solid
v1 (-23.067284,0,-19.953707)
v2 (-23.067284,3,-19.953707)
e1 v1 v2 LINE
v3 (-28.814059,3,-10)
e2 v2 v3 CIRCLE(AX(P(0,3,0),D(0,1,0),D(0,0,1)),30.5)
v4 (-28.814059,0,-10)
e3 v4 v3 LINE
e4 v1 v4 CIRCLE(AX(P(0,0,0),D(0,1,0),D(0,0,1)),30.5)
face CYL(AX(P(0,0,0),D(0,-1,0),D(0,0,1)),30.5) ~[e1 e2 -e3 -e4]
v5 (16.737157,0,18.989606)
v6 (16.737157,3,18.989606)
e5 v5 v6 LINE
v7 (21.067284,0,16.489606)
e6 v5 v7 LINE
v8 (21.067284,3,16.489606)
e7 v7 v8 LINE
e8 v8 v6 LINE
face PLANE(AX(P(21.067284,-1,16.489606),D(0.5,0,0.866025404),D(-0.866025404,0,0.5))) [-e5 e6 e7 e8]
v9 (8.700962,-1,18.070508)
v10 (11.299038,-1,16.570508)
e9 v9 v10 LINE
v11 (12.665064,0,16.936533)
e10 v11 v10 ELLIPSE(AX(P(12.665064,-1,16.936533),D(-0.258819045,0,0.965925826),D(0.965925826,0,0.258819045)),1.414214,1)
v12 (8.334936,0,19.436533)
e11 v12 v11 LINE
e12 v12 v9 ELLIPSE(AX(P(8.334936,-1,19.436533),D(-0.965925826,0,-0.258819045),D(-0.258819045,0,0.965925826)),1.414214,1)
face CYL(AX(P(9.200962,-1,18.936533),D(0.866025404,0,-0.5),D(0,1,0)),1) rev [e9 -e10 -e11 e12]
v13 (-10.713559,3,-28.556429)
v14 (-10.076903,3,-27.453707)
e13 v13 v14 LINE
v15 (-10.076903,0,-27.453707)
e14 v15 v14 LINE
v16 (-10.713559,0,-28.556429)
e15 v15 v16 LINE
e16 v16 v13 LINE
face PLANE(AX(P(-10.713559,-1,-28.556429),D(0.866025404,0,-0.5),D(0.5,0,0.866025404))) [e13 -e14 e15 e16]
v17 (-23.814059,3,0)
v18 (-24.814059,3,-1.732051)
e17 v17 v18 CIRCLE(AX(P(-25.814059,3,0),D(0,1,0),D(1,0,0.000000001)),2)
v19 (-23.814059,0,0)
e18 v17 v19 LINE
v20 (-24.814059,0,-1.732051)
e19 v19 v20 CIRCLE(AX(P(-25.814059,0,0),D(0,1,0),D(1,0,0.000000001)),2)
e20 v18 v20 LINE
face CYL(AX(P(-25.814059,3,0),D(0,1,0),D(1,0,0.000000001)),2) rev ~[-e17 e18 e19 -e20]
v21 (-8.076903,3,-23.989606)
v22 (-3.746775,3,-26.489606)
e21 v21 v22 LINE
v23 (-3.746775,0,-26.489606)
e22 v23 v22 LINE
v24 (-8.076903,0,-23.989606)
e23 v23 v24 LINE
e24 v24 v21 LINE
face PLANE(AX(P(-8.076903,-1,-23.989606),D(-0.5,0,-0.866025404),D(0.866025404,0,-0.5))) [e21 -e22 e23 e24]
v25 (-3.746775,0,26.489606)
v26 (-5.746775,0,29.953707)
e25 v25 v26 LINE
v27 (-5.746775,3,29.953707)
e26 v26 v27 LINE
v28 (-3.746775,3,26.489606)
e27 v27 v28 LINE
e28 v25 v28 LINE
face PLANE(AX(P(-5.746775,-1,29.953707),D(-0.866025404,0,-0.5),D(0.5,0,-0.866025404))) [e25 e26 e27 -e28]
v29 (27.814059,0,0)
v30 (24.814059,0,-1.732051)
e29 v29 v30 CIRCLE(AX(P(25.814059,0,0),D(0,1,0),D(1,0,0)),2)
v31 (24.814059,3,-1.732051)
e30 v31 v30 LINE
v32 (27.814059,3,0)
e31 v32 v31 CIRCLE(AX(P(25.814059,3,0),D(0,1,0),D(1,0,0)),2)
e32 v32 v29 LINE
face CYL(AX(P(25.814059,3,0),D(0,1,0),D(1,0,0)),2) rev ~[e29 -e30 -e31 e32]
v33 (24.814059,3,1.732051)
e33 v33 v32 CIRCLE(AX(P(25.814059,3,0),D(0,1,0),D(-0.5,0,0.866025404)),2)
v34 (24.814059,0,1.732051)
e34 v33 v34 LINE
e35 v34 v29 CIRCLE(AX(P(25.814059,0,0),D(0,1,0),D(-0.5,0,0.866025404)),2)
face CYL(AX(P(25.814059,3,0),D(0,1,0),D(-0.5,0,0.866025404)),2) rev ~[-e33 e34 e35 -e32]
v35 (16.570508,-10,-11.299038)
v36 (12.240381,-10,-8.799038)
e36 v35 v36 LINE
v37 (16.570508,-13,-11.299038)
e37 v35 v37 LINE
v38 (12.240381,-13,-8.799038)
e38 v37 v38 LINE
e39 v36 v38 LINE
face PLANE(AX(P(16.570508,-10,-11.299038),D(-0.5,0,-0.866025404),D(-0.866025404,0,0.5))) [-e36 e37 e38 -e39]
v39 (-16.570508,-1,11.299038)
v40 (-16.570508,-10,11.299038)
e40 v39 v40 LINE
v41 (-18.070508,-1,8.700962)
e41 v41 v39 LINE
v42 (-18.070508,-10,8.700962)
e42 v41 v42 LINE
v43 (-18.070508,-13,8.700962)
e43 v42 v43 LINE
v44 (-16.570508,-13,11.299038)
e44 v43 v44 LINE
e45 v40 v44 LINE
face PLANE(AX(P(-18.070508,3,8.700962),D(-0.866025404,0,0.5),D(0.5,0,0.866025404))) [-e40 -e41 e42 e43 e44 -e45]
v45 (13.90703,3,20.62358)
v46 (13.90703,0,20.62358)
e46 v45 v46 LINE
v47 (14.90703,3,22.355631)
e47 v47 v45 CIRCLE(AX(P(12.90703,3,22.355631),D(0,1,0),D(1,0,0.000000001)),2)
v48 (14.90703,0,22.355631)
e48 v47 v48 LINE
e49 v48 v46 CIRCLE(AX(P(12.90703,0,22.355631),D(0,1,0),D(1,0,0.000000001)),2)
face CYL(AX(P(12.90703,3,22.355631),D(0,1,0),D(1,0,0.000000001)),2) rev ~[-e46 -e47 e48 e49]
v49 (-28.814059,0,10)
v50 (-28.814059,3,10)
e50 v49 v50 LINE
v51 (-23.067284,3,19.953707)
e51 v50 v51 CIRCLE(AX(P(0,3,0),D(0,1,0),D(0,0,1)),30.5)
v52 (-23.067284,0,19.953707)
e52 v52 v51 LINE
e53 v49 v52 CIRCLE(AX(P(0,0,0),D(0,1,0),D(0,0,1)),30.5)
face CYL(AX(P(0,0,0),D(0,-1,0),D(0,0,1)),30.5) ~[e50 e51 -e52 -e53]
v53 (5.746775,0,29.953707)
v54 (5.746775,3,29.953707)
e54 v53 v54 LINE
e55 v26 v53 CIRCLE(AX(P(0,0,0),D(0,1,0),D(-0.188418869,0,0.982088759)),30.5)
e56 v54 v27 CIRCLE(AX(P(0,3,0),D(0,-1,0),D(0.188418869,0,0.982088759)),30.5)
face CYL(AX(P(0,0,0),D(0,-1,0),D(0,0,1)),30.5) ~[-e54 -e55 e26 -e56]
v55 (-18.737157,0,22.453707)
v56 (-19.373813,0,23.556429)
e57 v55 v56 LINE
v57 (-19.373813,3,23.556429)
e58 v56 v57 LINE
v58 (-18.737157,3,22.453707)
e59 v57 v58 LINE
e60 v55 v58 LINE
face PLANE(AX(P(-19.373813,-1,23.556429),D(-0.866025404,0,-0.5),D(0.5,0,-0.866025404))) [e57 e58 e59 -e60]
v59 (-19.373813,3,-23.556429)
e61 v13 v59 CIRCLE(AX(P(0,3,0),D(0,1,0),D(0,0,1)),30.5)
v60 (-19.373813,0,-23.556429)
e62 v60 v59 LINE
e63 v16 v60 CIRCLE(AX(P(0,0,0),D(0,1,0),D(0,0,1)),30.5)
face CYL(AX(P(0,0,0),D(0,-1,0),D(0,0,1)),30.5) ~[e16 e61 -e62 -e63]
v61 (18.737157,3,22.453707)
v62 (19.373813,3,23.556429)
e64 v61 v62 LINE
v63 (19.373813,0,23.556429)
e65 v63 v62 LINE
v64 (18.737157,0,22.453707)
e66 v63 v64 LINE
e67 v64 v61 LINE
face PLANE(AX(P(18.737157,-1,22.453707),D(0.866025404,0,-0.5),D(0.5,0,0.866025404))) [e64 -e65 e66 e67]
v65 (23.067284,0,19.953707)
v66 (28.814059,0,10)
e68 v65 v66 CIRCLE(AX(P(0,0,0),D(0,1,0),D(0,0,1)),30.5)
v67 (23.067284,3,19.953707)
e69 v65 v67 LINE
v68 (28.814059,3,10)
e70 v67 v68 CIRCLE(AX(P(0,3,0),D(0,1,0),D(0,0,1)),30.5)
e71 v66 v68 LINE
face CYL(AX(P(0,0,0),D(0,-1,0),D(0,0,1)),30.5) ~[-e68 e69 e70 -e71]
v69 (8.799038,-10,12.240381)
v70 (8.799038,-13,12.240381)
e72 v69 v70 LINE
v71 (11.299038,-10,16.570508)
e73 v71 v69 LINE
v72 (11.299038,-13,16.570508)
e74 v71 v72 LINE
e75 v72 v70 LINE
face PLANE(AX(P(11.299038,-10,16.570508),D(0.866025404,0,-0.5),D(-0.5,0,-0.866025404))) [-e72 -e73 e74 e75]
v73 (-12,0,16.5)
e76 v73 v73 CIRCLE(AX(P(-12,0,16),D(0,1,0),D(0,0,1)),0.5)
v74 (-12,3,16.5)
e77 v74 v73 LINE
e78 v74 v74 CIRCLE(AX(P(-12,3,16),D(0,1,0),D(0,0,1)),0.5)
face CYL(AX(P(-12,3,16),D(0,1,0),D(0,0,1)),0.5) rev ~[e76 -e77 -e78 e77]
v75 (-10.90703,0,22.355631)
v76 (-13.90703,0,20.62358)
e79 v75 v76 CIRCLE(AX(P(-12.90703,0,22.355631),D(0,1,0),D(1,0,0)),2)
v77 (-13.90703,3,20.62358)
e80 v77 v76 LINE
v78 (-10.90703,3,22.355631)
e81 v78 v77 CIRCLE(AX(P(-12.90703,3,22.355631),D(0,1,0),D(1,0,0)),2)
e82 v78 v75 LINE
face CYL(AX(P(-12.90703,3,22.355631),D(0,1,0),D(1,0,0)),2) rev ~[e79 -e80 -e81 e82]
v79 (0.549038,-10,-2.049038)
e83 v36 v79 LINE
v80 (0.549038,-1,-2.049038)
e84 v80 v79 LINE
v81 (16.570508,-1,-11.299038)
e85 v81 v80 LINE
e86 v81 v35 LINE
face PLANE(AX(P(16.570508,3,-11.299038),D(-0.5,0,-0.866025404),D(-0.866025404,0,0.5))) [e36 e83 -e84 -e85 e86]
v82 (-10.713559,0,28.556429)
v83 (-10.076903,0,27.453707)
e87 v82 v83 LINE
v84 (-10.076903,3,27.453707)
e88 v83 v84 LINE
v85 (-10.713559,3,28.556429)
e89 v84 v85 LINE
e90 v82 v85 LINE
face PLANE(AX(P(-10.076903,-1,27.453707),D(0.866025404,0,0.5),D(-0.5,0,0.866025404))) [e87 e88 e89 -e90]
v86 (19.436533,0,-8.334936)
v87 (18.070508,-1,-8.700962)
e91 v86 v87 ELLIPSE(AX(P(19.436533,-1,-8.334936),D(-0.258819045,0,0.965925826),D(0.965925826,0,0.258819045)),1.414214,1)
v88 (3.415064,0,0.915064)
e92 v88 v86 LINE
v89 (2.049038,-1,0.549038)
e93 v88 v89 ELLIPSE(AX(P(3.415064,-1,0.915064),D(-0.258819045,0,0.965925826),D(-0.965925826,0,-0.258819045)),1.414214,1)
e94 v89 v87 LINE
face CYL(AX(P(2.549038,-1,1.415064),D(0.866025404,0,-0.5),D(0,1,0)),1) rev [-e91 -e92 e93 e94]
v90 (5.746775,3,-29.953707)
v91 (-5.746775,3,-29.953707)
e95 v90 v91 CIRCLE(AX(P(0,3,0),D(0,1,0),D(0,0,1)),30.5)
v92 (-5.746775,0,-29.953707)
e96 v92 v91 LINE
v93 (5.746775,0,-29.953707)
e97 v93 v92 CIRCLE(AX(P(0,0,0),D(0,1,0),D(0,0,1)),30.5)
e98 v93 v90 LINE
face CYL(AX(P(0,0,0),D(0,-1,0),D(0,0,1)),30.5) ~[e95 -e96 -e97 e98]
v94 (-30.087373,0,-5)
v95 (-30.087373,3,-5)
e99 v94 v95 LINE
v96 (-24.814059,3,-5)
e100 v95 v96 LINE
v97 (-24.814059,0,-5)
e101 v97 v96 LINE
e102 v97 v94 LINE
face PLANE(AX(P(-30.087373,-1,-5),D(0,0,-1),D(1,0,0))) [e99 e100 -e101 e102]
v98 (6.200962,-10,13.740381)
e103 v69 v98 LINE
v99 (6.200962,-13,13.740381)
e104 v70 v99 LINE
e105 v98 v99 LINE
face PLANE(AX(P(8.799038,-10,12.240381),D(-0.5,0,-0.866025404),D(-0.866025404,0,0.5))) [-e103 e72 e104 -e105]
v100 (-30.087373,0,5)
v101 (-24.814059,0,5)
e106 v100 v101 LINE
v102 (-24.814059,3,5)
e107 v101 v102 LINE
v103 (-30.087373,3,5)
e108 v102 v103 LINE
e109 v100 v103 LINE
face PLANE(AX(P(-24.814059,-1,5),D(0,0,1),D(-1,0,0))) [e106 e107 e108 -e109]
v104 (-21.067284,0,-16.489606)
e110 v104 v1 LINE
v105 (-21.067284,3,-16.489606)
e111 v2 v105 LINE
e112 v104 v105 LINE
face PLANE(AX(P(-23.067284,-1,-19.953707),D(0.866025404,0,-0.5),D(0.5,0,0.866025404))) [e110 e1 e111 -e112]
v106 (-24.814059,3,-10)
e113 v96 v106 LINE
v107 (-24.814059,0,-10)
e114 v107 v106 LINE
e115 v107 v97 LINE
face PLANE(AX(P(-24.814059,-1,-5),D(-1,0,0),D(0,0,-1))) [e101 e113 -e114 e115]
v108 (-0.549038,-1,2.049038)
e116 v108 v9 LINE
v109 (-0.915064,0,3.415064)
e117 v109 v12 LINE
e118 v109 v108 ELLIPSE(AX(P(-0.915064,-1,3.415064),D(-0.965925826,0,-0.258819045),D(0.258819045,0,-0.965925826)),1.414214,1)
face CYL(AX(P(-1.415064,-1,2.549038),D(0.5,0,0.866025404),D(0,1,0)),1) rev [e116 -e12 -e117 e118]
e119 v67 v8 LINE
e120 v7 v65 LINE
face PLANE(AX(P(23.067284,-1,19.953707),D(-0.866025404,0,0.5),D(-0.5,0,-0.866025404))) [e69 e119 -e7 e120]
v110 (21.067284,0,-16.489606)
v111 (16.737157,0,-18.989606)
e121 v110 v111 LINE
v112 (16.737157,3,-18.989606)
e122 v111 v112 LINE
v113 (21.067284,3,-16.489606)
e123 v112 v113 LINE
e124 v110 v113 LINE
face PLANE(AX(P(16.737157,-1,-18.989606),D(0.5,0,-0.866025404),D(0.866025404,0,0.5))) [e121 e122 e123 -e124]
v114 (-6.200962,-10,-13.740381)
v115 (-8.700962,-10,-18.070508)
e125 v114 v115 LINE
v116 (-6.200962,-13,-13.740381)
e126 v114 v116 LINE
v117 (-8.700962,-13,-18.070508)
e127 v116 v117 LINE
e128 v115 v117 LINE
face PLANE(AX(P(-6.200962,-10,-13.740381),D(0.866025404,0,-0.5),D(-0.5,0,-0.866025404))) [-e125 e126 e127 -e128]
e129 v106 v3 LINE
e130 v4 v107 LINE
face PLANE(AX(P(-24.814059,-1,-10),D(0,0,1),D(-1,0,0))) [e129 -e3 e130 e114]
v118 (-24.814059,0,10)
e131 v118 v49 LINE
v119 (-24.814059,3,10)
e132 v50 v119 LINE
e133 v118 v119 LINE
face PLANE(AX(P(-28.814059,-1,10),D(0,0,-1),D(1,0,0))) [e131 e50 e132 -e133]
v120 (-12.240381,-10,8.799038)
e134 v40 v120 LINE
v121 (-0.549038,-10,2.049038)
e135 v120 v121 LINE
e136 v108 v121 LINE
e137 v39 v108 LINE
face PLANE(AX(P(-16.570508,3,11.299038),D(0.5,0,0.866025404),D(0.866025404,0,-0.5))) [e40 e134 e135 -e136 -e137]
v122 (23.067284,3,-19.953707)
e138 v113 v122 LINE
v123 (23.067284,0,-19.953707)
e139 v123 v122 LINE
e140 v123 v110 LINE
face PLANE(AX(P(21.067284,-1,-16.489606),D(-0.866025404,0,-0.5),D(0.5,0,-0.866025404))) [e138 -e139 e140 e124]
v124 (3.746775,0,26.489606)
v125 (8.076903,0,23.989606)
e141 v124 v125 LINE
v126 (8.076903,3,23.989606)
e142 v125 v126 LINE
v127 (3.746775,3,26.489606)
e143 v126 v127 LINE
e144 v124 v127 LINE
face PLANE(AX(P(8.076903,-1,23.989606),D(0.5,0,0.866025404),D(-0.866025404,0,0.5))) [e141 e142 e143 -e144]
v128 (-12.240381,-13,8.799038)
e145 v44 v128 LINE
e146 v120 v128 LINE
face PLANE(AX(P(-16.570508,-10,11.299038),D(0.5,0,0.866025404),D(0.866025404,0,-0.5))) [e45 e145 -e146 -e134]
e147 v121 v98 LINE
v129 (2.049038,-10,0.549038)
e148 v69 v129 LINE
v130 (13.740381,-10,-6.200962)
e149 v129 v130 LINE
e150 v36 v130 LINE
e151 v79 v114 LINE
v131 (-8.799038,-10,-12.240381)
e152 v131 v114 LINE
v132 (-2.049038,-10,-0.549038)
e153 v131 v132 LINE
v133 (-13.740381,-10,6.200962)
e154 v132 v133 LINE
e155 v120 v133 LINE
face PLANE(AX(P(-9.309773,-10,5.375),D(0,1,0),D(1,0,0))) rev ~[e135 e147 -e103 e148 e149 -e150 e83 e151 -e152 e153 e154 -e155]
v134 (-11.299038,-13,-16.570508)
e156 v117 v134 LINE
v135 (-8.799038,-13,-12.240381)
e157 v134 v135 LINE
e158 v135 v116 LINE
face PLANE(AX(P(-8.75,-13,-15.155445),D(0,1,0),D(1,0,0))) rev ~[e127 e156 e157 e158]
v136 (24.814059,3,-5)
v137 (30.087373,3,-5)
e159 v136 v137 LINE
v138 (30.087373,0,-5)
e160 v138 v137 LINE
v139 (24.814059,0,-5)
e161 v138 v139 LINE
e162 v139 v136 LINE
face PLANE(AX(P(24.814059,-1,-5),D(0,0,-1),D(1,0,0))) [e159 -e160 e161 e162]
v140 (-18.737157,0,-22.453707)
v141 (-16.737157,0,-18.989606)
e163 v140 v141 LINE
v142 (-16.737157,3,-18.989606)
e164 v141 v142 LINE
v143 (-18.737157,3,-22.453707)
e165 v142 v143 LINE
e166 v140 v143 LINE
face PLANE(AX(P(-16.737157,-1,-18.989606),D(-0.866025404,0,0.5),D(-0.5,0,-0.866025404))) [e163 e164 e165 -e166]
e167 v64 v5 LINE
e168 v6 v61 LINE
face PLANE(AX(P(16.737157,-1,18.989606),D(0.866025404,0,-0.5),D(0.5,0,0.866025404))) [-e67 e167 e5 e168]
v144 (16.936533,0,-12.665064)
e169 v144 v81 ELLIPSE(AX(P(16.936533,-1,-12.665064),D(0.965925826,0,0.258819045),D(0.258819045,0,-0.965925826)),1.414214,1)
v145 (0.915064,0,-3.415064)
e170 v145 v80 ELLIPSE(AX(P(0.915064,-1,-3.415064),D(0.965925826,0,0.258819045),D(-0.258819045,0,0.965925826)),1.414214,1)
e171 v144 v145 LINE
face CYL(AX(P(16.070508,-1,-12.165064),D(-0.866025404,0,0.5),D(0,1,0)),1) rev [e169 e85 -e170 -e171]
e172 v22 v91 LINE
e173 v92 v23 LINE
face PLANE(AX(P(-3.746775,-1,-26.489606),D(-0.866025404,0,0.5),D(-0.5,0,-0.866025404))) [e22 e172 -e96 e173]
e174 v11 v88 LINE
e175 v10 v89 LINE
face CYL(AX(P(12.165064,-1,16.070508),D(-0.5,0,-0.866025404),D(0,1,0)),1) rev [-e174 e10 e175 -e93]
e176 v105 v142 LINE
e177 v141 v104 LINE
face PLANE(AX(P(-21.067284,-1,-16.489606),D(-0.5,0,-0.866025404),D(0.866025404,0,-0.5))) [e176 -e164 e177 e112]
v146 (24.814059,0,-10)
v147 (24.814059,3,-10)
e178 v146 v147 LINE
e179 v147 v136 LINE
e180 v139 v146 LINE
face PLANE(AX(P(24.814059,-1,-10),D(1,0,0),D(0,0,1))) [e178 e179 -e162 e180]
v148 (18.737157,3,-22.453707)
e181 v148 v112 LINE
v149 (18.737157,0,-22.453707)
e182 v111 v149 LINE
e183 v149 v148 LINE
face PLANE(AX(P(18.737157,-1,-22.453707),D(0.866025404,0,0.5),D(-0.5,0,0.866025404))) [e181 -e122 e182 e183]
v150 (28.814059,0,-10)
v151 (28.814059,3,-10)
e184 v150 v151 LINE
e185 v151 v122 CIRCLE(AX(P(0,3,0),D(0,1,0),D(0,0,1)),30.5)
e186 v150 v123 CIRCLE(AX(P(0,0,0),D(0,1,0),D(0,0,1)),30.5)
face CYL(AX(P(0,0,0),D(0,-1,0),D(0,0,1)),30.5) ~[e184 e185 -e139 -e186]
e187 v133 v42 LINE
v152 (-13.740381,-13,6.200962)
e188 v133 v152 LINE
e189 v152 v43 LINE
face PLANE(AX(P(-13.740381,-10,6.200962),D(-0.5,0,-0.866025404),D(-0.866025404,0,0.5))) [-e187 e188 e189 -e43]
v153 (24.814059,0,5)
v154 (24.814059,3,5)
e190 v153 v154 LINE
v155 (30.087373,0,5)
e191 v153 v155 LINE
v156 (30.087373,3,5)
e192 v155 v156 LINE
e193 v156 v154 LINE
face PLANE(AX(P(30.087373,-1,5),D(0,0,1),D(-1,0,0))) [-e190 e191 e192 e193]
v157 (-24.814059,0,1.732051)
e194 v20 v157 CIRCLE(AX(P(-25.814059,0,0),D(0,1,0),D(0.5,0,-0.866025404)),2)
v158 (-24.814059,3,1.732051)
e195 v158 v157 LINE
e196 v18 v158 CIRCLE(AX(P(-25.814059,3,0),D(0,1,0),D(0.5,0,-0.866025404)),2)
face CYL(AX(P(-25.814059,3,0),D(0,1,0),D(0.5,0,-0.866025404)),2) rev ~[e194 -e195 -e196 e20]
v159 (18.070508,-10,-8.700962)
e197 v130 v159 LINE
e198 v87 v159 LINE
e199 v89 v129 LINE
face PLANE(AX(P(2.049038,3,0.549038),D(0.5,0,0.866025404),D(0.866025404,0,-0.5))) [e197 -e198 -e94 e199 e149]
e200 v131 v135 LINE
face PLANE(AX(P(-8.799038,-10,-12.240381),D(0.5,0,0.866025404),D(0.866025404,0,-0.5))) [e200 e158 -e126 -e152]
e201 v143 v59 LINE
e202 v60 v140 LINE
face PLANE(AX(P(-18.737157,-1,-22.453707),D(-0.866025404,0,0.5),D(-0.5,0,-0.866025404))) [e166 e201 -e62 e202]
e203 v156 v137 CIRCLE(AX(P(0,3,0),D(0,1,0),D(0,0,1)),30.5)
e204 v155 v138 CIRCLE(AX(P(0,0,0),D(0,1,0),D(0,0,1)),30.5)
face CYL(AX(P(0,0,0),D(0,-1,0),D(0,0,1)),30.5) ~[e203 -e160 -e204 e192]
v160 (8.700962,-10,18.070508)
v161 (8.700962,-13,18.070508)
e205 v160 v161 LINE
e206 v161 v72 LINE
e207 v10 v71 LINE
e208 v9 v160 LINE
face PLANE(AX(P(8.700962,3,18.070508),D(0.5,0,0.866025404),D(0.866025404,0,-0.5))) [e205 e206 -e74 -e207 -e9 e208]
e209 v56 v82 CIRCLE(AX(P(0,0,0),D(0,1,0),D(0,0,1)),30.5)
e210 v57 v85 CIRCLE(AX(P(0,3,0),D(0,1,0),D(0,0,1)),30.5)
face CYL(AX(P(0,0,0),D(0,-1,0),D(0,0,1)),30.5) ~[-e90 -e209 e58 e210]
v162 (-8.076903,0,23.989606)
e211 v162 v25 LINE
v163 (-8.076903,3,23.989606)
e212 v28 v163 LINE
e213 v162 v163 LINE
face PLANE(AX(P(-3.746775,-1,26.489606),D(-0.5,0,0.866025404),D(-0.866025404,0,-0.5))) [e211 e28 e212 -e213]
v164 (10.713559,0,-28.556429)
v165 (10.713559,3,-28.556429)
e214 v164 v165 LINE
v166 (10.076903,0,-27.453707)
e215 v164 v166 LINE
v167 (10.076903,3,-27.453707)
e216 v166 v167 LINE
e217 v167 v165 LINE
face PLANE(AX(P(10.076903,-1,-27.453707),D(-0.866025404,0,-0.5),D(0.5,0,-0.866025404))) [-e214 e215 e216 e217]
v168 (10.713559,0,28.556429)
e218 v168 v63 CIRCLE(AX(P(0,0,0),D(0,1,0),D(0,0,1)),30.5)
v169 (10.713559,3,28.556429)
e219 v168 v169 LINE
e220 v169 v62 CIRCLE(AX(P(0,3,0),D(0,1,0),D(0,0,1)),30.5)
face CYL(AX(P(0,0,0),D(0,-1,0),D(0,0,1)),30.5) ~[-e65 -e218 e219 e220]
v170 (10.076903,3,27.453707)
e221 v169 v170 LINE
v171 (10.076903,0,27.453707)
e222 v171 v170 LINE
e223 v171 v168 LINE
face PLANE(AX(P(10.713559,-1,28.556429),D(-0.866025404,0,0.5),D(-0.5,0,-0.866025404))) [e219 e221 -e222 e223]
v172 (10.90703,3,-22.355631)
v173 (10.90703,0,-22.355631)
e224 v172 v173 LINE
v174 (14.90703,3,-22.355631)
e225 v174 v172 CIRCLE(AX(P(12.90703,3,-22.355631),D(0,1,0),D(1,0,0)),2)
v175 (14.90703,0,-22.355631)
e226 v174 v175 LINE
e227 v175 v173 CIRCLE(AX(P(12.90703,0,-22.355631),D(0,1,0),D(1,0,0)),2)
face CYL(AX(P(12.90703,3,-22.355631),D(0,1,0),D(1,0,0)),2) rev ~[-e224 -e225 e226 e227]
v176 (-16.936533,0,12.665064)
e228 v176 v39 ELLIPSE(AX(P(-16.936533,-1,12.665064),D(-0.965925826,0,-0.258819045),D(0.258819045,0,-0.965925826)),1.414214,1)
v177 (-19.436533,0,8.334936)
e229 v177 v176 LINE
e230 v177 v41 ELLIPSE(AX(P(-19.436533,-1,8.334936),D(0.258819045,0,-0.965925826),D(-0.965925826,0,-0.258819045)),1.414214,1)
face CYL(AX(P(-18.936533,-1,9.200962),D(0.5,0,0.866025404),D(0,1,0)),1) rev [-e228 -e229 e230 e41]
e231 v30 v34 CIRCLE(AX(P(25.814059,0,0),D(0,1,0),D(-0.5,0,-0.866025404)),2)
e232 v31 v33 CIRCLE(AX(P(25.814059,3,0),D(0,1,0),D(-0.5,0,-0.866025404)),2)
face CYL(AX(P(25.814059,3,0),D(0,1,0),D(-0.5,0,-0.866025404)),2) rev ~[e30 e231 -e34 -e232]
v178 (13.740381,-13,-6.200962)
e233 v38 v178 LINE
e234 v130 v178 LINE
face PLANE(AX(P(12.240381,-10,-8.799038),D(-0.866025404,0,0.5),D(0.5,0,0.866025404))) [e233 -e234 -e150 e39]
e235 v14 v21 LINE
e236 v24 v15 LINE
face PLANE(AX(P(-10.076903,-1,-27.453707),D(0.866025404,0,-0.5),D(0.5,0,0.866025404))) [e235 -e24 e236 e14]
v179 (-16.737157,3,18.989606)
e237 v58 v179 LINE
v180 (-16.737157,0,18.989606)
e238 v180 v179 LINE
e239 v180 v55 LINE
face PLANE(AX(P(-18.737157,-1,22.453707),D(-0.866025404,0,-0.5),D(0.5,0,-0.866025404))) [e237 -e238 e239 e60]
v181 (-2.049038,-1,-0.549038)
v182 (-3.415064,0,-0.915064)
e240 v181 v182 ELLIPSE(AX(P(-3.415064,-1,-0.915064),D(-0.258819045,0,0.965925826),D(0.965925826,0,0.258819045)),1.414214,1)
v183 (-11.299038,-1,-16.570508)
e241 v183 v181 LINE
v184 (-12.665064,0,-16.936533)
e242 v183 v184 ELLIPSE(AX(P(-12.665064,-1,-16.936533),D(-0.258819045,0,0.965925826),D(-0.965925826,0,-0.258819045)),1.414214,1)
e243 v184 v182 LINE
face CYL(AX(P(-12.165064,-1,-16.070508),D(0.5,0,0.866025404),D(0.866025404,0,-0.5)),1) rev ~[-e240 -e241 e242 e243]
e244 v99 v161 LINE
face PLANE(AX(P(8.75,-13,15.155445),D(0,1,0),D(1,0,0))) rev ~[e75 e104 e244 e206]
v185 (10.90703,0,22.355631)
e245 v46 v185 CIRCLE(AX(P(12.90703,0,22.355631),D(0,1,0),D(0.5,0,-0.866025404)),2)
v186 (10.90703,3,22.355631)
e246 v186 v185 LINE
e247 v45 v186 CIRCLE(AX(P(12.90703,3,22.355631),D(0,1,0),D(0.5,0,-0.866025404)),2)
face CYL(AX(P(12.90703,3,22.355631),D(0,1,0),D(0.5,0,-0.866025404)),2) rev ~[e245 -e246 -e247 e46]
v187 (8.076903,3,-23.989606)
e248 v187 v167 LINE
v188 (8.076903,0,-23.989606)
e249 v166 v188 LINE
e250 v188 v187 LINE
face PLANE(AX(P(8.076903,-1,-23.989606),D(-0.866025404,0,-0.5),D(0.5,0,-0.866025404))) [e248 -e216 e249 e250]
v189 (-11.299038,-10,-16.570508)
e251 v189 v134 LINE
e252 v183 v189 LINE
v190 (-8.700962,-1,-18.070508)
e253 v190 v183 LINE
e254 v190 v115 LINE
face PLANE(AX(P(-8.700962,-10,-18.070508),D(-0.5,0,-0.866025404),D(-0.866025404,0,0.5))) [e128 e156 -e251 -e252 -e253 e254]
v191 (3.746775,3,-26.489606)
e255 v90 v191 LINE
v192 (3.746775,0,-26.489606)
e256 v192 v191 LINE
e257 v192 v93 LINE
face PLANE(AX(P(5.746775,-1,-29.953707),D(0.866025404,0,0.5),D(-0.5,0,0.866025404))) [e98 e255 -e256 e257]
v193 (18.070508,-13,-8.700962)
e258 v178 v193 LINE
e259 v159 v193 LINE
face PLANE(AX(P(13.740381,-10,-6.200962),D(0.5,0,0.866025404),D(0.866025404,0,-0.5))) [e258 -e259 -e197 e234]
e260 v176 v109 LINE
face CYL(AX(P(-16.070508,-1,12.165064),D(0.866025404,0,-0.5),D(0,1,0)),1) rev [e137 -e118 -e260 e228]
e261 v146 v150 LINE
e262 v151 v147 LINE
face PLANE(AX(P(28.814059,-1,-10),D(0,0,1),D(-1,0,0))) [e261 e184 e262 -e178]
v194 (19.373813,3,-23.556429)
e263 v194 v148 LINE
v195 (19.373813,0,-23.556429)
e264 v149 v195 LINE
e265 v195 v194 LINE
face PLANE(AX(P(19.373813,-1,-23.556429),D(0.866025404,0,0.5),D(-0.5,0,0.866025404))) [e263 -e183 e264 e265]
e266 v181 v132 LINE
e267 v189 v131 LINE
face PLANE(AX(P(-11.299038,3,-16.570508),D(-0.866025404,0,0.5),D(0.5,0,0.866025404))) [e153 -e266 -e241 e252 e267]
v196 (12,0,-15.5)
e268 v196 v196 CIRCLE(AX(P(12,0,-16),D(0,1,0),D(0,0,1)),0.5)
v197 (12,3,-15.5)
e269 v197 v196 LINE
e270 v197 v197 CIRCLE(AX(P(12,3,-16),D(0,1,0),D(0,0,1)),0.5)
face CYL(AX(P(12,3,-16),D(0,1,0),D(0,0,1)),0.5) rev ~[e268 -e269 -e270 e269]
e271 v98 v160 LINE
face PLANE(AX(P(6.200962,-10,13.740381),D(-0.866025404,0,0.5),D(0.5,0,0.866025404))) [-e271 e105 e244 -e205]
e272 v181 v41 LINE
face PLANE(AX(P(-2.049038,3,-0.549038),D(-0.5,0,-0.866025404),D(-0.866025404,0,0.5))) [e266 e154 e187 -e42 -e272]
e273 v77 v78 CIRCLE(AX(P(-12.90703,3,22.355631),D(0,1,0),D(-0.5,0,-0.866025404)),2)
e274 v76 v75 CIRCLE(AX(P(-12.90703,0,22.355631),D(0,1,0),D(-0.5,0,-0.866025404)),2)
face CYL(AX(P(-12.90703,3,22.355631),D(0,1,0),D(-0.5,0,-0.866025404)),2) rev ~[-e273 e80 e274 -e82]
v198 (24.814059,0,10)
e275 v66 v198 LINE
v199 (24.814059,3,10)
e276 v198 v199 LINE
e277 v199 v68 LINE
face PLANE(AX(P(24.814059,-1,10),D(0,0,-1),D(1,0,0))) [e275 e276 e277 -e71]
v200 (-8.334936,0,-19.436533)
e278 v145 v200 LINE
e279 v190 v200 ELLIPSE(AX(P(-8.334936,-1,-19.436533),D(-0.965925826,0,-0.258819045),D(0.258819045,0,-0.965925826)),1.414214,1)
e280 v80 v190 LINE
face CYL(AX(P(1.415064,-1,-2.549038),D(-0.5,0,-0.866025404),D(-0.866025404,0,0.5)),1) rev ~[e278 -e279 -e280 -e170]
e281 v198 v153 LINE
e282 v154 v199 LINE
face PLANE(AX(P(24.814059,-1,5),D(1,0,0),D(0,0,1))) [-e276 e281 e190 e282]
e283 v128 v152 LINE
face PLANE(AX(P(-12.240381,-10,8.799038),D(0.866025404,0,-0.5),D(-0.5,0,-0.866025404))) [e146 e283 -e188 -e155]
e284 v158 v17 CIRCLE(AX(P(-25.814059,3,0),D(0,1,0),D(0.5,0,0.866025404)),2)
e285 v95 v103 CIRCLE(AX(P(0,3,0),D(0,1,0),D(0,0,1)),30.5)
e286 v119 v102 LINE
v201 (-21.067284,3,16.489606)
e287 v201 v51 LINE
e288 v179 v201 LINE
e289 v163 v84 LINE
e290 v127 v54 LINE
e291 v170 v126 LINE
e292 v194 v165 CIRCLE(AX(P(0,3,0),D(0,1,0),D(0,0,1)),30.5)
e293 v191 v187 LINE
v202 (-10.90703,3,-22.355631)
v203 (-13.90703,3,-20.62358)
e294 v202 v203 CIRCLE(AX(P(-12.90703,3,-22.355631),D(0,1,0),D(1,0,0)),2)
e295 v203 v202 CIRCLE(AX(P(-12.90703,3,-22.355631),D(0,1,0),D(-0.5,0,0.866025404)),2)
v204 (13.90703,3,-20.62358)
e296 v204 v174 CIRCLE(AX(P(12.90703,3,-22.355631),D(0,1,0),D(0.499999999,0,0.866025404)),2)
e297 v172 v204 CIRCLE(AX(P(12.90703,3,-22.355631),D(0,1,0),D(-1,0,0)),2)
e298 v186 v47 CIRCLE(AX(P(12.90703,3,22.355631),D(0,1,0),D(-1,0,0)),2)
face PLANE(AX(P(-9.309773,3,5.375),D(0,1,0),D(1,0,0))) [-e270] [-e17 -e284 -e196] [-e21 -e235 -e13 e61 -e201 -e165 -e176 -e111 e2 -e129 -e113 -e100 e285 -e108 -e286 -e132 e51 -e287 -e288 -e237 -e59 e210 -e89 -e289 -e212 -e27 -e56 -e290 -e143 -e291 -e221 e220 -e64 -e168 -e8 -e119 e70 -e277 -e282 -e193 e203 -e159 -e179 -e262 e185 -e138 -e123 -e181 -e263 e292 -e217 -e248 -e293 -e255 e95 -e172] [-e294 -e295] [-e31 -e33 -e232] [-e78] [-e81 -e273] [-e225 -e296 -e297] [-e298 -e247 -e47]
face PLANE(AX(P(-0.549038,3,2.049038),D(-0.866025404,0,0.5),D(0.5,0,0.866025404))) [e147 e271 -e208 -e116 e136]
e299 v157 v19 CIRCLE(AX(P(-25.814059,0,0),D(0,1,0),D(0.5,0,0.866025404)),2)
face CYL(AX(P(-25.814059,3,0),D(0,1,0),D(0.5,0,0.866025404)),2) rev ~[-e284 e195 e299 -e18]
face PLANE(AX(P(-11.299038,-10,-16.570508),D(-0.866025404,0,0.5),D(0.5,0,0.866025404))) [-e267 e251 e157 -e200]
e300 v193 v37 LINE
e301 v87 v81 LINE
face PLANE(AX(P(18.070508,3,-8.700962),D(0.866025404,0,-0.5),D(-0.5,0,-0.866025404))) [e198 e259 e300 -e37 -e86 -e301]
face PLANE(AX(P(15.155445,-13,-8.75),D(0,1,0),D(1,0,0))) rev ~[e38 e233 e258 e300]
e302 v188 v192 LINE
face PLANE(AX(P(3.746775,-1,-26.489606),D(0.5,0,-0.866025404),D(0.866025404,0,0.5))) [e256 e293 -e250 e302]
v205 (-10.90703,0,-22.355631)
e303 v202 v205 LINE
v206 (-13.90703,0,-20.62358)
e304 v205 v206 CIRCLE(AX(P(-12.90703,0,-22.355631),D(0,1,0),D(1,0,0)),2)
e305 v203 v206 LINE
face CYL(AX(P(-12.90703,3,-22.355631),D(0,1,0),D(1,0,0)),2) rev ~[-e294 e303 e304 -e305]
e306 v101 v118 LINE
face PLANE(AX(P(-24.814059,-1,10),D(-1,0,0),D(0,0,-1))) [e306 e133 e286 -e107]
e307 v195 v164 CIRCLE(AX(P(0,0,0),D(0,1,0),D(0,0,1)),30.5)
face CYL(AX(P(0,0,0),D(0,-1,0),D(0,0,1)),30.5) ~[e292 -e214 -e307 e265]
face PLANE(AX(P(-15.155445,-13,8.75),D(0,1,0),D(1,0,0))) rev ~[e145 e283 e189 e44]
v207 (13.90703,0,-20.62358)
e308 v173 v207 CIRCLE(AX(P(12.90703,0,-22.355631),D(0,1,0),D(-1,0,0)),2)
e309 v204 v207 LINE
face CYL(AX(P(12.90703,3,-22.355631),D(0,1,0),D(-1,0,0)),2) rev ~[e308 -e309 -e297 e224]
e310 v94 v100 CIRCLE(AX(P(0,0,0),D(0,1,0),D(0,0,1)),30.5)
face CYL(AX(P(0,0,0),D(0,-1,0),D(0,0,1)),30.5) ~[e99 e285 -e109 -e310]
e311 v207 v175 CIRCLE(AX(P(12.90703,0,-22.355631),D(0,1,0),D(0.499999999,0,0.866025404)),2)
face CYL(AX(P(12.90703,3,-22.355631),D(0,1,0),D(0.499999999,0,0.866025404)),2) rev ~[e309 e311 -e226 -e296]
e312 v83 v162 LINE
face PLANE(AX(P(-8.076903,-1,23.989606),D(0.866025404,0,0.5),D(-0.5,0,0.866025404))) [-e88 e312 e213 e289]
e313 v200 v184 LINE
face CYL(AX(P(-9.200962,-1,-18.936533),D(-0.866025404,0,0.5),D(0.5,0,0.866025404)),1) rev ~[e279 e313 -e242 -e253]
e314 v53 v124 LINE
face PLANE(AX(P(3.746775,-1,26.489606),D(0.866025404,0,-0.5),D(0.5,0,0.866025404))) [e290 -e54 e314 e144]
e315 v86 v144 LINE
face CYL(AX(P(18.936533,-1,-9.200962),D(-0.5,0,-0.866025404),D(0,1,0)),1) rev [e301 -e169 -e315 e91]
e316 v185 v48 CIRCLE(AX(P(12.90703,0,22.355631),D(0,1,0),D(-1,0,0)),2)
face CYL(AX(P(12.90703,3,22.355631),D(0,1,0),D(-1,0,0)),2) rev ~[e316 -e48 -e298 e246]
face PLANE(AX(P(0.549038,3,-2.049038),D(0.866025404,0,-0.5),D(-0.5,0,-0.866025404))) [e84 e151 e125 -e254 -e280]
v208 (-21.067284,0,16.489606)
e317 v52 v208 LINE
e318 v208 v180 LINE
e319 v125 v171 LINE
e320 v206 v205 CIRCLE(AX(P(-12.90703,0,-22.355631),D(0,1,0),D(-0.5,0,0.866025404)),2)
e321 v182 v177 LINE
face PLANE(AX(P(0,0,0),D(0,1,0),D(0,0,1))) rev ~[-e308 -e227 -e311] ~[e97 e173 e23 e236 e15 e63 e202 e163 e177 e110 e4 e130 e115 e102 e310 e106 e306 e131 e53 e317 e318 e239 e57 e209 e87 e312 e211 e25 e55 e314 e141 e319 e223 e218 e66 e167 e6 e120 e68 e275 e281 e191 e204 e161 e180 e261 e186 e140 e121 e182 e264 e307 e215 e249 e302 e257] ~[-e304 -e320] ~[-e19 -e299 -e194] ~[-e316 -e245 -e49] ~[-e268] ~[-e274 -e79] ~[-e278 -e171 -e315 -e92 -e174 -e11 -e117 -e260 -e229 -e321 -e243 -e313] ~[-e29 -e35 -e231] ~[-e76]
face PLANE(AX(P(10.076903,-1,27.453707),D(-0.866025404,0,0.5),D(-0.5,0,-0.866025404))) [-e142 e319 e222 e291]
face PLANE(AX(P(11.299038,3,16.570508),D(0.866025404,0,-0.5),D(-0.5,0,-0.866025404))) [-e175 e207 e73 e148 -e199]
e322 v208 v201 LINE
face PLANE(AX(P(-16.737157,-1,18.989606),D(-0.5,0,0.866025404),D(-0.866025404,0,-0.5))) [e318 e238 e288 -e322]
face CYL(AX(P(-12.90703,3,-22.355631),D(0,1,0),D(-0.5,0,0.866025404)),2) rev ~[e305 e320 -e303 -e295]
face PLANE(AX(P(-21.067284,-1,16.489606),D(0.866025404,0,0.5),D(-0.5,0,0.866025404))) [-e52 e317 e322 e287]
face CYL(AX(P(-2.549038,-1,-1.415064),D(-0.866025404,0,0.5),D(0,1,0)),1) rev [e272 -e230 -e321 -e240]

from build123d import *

# Parameters (mm, degrees)
CROQUIS1_R              = 30.5
SALIENTE_EXTRUIR1_DEPTH = 3
CORTAR_EXTRUIR3_START   = -4
CORTAR_EXTRUIR3_DEPTH   = 4
CORTAR_EXTRUIR4_DEPTH   = 10
CROQUIS8_R              = 0.5
CORTAR_EXTRUIR5_DEPTH   = 3
SALIENTE_EXTRUIR2_DEPTH = 13
SALIENTE_EXTRUIR3_DEPTH = 3
REDONDEO1_R             = 1


with BuildPart() as part:
    # Croquis1 → Saliente-Extruir1 (new body)
    with BuildSketch(Plane(origin=(0, 0, 0), x_dir=(1, 0, 0), z_dir=(0, 1, 0))):
        with Locations(Location((0, 0, 0), (0, 0, 270))):
            Circle(CROQUIS1_R)
    extrude(amount=SALIENTE_EXTRUIR1_DEPTH)

    # Croquis5 → Cortar-Extruir3 (cut)
    with BuildSketch(Plane(origin=(0, 3, 0), x_dir=(1, 0, 0), z_dir=(0, 1, 0)).offset(CORTAR_EXTRUIR3_START)):
        with BuildLine():
            ThreePointArc((-28.814059068, 10), (-29.556634924, 7.526973624), (-30.087372767, 5))
            Line((-30.087372767, 5), (-28.814059068, 5))
            Line((-28.814059068, 5), (-24.814059068, 5))
            Line((-24.814059068, 5), (-24.814059068, 10))
            Line((-24.814059068, 10), (-28.814059068, 10))
        make_face()
        with BuildLine():
            Line((28.814059068, 5), (30.087372767, 5))
            ThreePointArc((30.087372767, 5), (29.556634924, 7.526973624), (28.814059068, 10))
            Line((28.814059068, 10), (24.814059068, 10))
            Line((24.814059068, 10), (24.814059068, 5))
            Line((24.814059068, 5), (28.814059068, 5))
        make_face()
        with BuildLine():
            Line((30.087372767, -5), (28.814059068, -5))
            Line((28.814059068, -5), (24.814059068, -5))
            Line((24.814059068, -5), (24.814059068, -10))
            Line((24.814059068, -10), (28.814059068, -10))
            ThreePointArc((28.814059068, -10), (29.556634924, -7.526973624), (30.087372767, -5))
        make_face()
        with BuildLine():
            ThreePointArc((19.373813402, -23.556429149), (21.296867835, -21.833309883), (23.067283572, -19.953707139))
            Line((23.067283572, -19.953707139), (21.067283572, -16.489605524))
            Line((21.067283572, -16.489605524), (16.737156553, -18.989605524))
            Line((16.737156553, -18.989605524), (18.737156553, -22.453707139))
            Line((18.737156553, -22.453707139), (19.373813402, -23.556429149))
        make_face()
        with BuildLine():
            ThreePointArc((5.746775496, -29.953707139), (8.25976709, -29.360283507), (10.713559364, -28.556429149))
            Line((10.713559364, -28.556429149), (10.076902515, -27.453707139))
            Line((10.076902515, -27.453707139), (8.076902515, -23.989605524))
            Line((8.076902515, -23.989605524), (3.746775496, -26.489605524))
            Line((3.746775496, -26.489605524), (5.746775496, -29.953707139))
        make_face()
        with BuildLine():
            ThreePointArc((-10.713559364, -28.556429149), (-8.25976709, -29.360283507), (-5.746775496, -29.953707139))
            Line((-5.746775496, -29.953707139), (-3.746775496, -26.489605524))
            Line((-3.746775496, -26.489605524), (-8.076902515, -23.989605524))
            Line((-8.076902515, -23.989605524), (-10.076902515, -27.453707139))
            Line((-10.076902515, -27.453707139), (-10.713559364, -28.556429149))
        make_face()
        with BuildLine():
            ThreePointArc((-23.067283572, -19.953707139), (-21.296867835, -21.833309883), (-19.373813402, -23.556429149))
            Line((-19.373813402, -23.556429149), (-18.737156553, -22.453707139))
            Line((-18.737156553, -22.453707139), (-16.737156553, -18.989605524))
            Line((-16.737156553, -18.989605524), (-21.067283572, -16.489605524))
            Line((-21.067283572, -16.489605524), (-23.067283572, -19.953707139))
        make_face()
        with BuildLine():
            ThreePointArc((-30.087372767, -5), (-29.556634924, -7.526973624), (-28.814059068, -10))
            Line((-28.814059068, -10), (-24.814059068, -10))
            Line((-24.814059068, -10), (-24.814059068, -5))
            Line((-24.814059068, -5), (-28.814059068, -5))
            Line((-28.814059068, -5), (-30.087372767, -5))
        make_face()
        with BuildLine():
            Line((-18.737156553, 22.453707139), (-19.373813402, 23.556429149))
            ThreePointArc((-19.373813402, 23.556429149), (-21.296867835, 21.833309883), (-23.067283572, 19.953707139))
            Line((-23.067283572, 19.953707139), (-21.067283572, 16.489605524))
            Line((-21.067283572, 16.489605524), (-16.737156553, 18.989605524))
            Line((-16.737156553, 18.989605524), (-18.737156553, 22.453707139))
        make_face()
        with BuildLine():
            Line((-3.746775496, 26.489605524), (-5.746775496, 29.953707139))
            ThreePointArc((-5.746775496, 29.953707139), (-8.25976709, 29.360283507), (-10.713559364, 28.556429149))
            Line((-10.713559364, 28.556429149), (-10.076902515, 27.453707139))
            Line((-10.076902515, 27.453707139), (-8.076902515, 23.989605524))
            Line((-8.076902515, 23.989605524), (-3.746775496, 26.489605524))
        make_face()
        with BuildLine():
            Line((10.076902515, 27.453707139), (10.713559364, 28.556429149))
            ThreePointArc((10.713559364, 28.556429149), (8.25976709, 29.360283507), (5.746775496, 29.953707139))
            Line((5.746775496, 29.953707139), (3.746775496, 26.489605524))
            Line((3.746775496, 26.489605524), (8.076902515, 23.989605524))
            Line((8.076902515, 23.989605524), (10.076902515, 27.453707139))
        make_face()
        with BuildLine():
            Line((21.067283572, 16.489605524), (23.067283572, 19.953707139))
            ThreePointArc((23.067283572, 19.953707139), (21.296867835, 21.833309883), (19.373813402, 23.556429149))
            Line((19.373813402, 23.556429149), (18.737156553, 22.453707139))
            Line((18.737156553, 22.453707139), (16.737156553, 18.989605524))
            Line((16.737156553, 18.989605524), (21.067283572, 16.489605524))
        make_face()
    extrude(amount=CORTAR_EXTRUIR3_DEPTH, mode=Mode.SUBTRACT)

    # Croquis7 → Cortar-Extruir4 (cut)
    with BuildSketch(Plane(origin=(0, 3, 0), x_dir=(1, 0, 0), z_dir=(0, 1, 0))):
        with BuildLine():
            ThreePointArc((-13.907029535, 20.623580122), (-11.907029535, 20.623580122), (-10.907029535, 22.355630929))
            Line((-10.907029535, 22.355630929), (-12.907029535, 22.355630929))
            Line((-12.907029535, 22.355630929), (-13.907029535, 20.623580122))
        make_face()
        with BuildLine():
            Line((-12.907029535, 22.355630929), (-10.907029535, 22.355630929))
            ThreePointArc((-10.907029535, 22.355630929), (-13.907029535, 24.087681737), (-13.907029535, 20.623580122))
            Line((-13.907029535, 20.623580122), (-12.907029535, 22.355630929))
        make_face()
        with BuildLine():
            ThreePointArc((-23.81405907, 0), (-24.082008262, 1), (-24.81405907, 1.732050808))
            Line((-24.81405907, 1.732050808), (-25.81405907, 0))
            Line((-25.81405907, 0), (-24.81405907, -1.732050808))
            ThreePointArc((-24.81405907, -1.732050808), (-24.082008262, -1), (-23.81405907, 0))
        make_face()
        with BuildLine():
            Line((-25.81405907, 0), (-24.81405907, 1.732050808))
            ThreePointArc((-24.81405907, 1.732050808), (-27.81405907, 0), (-24.81405907, -1.732050808))
            Line((-24.81405907, -1.732050808), (-25.81405907, 0))
        make_face()
        with BuildLine():
            ThreePointArc((10.907029535, 22.355630929), (11.907029535, 20.623580122), (13.907029535, 20.623580122))
            Line((13.907029535, 20.623580122), (12.907029535, 22.355630929))
            Line((12.907029535, 22.355630929), (10.907029535, 22.355630929))
        make_face()
        with BuildLine():
            Line((12.907029535, 22.355630929), (13.907029535, 20.623580122))
            ThreePointArc((13.907029535, 20.623580122), (14.639080343, 21.355630929), (14.907029535, 22.355630929))
            ThreePointArc((14.907029535, 22.355630929), (12.907029535, 24.355630929), (10.907029535, 22.355630929))
            Line((10.907029535, 22.355630929), (12.907029535, 22.355630929))
        make_face()
        with BuildLine():
            Line((24.81405907, -1.732050808), (25.81405907, 0))
            Line((25.81405907, 0), (24.81405907, 1.732050808))
            ThreePointArc((24.81405907, 1.732050808), (23.81405907, 0), (24.81405907, -1.732050808))
        make_face()
        with BuildLine():
            Line((24.81405907, 1.732050808), (25.81405907, 0))
            Line((25.81405907, 0), (24.81405907, -1.732050808))
            ThreePointArc((24.81405907, -1.732050808), (26.81405907, -1.732050808), (27.81405907, 0))
            ThreePointArc((27.81405907, 0), (26.81405907, 1.732050808), (24.81405907, 1.732050808))
        make_face()
        with BuildLine():
            ThreePointArc((-13.907029535, -20.623580122), (-13.907029535, -24.087681737), (-10.907029535, -22.355630929))
            Line((-10.907029535, -22.355630929), (-12.907029535, -22.355630929))
            Line((-12.907029535, -22.355630929), (-13.907029535, -20.623580122))
        make_face()
        with BuildLine():
            Line((-12.907029535, -22.355630929), (-10.907029535, -22.355630929))
            ThreePointArc((-10.907029535, -22.355630929), (-11.907029535, -20.623580122), (-13.907029535, -20.623580122))
            Line((-13.907029535, -20.623580122), (-12.907029535, -22.355630929))
        make_face()
        with BuildLine():
            ThreePointArc((14.907029535, -22.355630929), (14.639080343, -21.355630929), (13.907029535, -20.623580122))
            Line((13.907029535, -20.623580122), (12.907029535, -22.355630929))
            Line((12.907029535, -22.355630929), (10.907029535, -22.355630929))
            ThreePointArc((10.907029535, -22.355630929), (12.907029535, -24.355630929), (14.907029535, -22.355630929))
        make_face()
        with BuildLine():
            Line((12.907029535, -22.355630929), (13.907029535, -20.623580122))
            ThreePointArc((13.907029535, -20.623580122), (11.907029535, -20.623580122), (10.907029535, -22.355630929))
            Line((10.907029535, -22.355630929), (12.907029535, -22.355630929))
        make_face()
    extrude(amount=-CORTAR_EXTRUIR4_DEPTH, mode=Mode.SUBTRACT)

    # Croquis8 → Cortar-Extruir5 (cut)
    with BuildSketch(Plane(origin=(0, 3, 0), x_dir=(1, 0, 0), z_dir=(0, 1, 0))):
        with Locations(Location((12, 16, 0), (0, 0, 270))):
            Circle(CROQUIS8_R)
        with Locations(Location((-12, -16, 0), (0, 0, 270))):
            Circle(CROQUIS8_R)
    extrude(amount=-CORTAR_EXTRUIR5_DEPTH, mode=Mode.SUBTRACT)

    # Croquis9 → Saliente-Extruir2 (add)
    with BuildSketch(Plane(origin=(0, 3, 0), x_dir=(1, 0, 0), z_dir=(0, 1, 0))):
        Polygon((-0.549038106, -2.049038106), (-2.049038106, 0.549038106), (-18.070508076, -8.700961894), (-17.320508076, -10), (-16.570508076, -11.299038106), align=None)
        Polygon((2.049038106, -0.549038106), (0.549038106, 2.049038106), (-2.049038106, 0.549038106), (-0.549038106, -2.049038106), align=None)
        Polygon((-2.049038106, 0.549038106), (0.549038106, 2.049038106), (-8.700961894, 18.070508076), (-10, 17.320508076), (-11.299038106, 16.570508076), align=None)
        Polygon((17.320508076, 10), (16.570508076, 11.299038106), (0.549038106, 2.049038106), (2.049038106, -0.549038106), (18.070508076, 8.700961894), align=None)
        Polygon((11.299038106, -16.570508076), (2.049038106, -0.549038106), (-0.549038106, -2.049038106), (8.700961894, -18.070508076), (10, -17.320508076), align=None)
    extrude(amount=-SALIENTE_EXTRUIR2_DEPTH)

    # Croquis10 → Saliente-Extruir3 (add)
    with BuildSketch(Plane(origin=(0, -10, 0), x_dir=(-1, 0, 0), z_dir=(0, -1, 0))):
        Polygon((8.700961894, 18.070508076), (11.299038106, 16.570508076), (8.799038106, 12.240381057), (6.200961894, 13.740381057), align=None)
        Polygon((-12.240381057, 8.799038106), (-13.740381057, 6.200961894), (-18.070508076, 8.700961894), (-16.570508076, 11.299038106), align=None)
        Polygon((-8.700961894, -18.070508076), (-11.299038106, -16.570508076), (-8.799038106, -12.240381057), (-6.200961894, -13.740381057), align=None)
        Polygon((12.240381057, -8.799038106), (13.740381057, -6.200961894), (18.070508076, -8.700961894), (16.570508076, -11.299038106), align=None)
    extrude(amount=SALIENTE_EXTRUIR3_DEPTH)

    # Redondeo1
    redondeo1_edges = [part.edges().sort_by_distance(p)[0] for p in [
        (-8.559773091, 0, 6.674038106),
        (4.075961894, 0, 10.059773091),
        (10, 0, 17.320508076),
        (6.674038106, 0, 8.559773091),
        (10.059773091, 0, -4.075961894),
        (17.320508076, 0, -10),
        (8.559773091, 0, -6.674038106),
        (-4.075961894, 0, -10.059773091),
        (-10, 0, -17.320508076),
        (-6.674038106, 0, -8.559773091),
        (-10.059773091, 0, 4.075961894),
        (-17.320508076, 0, 10),
    ]]
    fillet(redondeo1_edges, radius=REDONDEO1_R)


solid = part.part
